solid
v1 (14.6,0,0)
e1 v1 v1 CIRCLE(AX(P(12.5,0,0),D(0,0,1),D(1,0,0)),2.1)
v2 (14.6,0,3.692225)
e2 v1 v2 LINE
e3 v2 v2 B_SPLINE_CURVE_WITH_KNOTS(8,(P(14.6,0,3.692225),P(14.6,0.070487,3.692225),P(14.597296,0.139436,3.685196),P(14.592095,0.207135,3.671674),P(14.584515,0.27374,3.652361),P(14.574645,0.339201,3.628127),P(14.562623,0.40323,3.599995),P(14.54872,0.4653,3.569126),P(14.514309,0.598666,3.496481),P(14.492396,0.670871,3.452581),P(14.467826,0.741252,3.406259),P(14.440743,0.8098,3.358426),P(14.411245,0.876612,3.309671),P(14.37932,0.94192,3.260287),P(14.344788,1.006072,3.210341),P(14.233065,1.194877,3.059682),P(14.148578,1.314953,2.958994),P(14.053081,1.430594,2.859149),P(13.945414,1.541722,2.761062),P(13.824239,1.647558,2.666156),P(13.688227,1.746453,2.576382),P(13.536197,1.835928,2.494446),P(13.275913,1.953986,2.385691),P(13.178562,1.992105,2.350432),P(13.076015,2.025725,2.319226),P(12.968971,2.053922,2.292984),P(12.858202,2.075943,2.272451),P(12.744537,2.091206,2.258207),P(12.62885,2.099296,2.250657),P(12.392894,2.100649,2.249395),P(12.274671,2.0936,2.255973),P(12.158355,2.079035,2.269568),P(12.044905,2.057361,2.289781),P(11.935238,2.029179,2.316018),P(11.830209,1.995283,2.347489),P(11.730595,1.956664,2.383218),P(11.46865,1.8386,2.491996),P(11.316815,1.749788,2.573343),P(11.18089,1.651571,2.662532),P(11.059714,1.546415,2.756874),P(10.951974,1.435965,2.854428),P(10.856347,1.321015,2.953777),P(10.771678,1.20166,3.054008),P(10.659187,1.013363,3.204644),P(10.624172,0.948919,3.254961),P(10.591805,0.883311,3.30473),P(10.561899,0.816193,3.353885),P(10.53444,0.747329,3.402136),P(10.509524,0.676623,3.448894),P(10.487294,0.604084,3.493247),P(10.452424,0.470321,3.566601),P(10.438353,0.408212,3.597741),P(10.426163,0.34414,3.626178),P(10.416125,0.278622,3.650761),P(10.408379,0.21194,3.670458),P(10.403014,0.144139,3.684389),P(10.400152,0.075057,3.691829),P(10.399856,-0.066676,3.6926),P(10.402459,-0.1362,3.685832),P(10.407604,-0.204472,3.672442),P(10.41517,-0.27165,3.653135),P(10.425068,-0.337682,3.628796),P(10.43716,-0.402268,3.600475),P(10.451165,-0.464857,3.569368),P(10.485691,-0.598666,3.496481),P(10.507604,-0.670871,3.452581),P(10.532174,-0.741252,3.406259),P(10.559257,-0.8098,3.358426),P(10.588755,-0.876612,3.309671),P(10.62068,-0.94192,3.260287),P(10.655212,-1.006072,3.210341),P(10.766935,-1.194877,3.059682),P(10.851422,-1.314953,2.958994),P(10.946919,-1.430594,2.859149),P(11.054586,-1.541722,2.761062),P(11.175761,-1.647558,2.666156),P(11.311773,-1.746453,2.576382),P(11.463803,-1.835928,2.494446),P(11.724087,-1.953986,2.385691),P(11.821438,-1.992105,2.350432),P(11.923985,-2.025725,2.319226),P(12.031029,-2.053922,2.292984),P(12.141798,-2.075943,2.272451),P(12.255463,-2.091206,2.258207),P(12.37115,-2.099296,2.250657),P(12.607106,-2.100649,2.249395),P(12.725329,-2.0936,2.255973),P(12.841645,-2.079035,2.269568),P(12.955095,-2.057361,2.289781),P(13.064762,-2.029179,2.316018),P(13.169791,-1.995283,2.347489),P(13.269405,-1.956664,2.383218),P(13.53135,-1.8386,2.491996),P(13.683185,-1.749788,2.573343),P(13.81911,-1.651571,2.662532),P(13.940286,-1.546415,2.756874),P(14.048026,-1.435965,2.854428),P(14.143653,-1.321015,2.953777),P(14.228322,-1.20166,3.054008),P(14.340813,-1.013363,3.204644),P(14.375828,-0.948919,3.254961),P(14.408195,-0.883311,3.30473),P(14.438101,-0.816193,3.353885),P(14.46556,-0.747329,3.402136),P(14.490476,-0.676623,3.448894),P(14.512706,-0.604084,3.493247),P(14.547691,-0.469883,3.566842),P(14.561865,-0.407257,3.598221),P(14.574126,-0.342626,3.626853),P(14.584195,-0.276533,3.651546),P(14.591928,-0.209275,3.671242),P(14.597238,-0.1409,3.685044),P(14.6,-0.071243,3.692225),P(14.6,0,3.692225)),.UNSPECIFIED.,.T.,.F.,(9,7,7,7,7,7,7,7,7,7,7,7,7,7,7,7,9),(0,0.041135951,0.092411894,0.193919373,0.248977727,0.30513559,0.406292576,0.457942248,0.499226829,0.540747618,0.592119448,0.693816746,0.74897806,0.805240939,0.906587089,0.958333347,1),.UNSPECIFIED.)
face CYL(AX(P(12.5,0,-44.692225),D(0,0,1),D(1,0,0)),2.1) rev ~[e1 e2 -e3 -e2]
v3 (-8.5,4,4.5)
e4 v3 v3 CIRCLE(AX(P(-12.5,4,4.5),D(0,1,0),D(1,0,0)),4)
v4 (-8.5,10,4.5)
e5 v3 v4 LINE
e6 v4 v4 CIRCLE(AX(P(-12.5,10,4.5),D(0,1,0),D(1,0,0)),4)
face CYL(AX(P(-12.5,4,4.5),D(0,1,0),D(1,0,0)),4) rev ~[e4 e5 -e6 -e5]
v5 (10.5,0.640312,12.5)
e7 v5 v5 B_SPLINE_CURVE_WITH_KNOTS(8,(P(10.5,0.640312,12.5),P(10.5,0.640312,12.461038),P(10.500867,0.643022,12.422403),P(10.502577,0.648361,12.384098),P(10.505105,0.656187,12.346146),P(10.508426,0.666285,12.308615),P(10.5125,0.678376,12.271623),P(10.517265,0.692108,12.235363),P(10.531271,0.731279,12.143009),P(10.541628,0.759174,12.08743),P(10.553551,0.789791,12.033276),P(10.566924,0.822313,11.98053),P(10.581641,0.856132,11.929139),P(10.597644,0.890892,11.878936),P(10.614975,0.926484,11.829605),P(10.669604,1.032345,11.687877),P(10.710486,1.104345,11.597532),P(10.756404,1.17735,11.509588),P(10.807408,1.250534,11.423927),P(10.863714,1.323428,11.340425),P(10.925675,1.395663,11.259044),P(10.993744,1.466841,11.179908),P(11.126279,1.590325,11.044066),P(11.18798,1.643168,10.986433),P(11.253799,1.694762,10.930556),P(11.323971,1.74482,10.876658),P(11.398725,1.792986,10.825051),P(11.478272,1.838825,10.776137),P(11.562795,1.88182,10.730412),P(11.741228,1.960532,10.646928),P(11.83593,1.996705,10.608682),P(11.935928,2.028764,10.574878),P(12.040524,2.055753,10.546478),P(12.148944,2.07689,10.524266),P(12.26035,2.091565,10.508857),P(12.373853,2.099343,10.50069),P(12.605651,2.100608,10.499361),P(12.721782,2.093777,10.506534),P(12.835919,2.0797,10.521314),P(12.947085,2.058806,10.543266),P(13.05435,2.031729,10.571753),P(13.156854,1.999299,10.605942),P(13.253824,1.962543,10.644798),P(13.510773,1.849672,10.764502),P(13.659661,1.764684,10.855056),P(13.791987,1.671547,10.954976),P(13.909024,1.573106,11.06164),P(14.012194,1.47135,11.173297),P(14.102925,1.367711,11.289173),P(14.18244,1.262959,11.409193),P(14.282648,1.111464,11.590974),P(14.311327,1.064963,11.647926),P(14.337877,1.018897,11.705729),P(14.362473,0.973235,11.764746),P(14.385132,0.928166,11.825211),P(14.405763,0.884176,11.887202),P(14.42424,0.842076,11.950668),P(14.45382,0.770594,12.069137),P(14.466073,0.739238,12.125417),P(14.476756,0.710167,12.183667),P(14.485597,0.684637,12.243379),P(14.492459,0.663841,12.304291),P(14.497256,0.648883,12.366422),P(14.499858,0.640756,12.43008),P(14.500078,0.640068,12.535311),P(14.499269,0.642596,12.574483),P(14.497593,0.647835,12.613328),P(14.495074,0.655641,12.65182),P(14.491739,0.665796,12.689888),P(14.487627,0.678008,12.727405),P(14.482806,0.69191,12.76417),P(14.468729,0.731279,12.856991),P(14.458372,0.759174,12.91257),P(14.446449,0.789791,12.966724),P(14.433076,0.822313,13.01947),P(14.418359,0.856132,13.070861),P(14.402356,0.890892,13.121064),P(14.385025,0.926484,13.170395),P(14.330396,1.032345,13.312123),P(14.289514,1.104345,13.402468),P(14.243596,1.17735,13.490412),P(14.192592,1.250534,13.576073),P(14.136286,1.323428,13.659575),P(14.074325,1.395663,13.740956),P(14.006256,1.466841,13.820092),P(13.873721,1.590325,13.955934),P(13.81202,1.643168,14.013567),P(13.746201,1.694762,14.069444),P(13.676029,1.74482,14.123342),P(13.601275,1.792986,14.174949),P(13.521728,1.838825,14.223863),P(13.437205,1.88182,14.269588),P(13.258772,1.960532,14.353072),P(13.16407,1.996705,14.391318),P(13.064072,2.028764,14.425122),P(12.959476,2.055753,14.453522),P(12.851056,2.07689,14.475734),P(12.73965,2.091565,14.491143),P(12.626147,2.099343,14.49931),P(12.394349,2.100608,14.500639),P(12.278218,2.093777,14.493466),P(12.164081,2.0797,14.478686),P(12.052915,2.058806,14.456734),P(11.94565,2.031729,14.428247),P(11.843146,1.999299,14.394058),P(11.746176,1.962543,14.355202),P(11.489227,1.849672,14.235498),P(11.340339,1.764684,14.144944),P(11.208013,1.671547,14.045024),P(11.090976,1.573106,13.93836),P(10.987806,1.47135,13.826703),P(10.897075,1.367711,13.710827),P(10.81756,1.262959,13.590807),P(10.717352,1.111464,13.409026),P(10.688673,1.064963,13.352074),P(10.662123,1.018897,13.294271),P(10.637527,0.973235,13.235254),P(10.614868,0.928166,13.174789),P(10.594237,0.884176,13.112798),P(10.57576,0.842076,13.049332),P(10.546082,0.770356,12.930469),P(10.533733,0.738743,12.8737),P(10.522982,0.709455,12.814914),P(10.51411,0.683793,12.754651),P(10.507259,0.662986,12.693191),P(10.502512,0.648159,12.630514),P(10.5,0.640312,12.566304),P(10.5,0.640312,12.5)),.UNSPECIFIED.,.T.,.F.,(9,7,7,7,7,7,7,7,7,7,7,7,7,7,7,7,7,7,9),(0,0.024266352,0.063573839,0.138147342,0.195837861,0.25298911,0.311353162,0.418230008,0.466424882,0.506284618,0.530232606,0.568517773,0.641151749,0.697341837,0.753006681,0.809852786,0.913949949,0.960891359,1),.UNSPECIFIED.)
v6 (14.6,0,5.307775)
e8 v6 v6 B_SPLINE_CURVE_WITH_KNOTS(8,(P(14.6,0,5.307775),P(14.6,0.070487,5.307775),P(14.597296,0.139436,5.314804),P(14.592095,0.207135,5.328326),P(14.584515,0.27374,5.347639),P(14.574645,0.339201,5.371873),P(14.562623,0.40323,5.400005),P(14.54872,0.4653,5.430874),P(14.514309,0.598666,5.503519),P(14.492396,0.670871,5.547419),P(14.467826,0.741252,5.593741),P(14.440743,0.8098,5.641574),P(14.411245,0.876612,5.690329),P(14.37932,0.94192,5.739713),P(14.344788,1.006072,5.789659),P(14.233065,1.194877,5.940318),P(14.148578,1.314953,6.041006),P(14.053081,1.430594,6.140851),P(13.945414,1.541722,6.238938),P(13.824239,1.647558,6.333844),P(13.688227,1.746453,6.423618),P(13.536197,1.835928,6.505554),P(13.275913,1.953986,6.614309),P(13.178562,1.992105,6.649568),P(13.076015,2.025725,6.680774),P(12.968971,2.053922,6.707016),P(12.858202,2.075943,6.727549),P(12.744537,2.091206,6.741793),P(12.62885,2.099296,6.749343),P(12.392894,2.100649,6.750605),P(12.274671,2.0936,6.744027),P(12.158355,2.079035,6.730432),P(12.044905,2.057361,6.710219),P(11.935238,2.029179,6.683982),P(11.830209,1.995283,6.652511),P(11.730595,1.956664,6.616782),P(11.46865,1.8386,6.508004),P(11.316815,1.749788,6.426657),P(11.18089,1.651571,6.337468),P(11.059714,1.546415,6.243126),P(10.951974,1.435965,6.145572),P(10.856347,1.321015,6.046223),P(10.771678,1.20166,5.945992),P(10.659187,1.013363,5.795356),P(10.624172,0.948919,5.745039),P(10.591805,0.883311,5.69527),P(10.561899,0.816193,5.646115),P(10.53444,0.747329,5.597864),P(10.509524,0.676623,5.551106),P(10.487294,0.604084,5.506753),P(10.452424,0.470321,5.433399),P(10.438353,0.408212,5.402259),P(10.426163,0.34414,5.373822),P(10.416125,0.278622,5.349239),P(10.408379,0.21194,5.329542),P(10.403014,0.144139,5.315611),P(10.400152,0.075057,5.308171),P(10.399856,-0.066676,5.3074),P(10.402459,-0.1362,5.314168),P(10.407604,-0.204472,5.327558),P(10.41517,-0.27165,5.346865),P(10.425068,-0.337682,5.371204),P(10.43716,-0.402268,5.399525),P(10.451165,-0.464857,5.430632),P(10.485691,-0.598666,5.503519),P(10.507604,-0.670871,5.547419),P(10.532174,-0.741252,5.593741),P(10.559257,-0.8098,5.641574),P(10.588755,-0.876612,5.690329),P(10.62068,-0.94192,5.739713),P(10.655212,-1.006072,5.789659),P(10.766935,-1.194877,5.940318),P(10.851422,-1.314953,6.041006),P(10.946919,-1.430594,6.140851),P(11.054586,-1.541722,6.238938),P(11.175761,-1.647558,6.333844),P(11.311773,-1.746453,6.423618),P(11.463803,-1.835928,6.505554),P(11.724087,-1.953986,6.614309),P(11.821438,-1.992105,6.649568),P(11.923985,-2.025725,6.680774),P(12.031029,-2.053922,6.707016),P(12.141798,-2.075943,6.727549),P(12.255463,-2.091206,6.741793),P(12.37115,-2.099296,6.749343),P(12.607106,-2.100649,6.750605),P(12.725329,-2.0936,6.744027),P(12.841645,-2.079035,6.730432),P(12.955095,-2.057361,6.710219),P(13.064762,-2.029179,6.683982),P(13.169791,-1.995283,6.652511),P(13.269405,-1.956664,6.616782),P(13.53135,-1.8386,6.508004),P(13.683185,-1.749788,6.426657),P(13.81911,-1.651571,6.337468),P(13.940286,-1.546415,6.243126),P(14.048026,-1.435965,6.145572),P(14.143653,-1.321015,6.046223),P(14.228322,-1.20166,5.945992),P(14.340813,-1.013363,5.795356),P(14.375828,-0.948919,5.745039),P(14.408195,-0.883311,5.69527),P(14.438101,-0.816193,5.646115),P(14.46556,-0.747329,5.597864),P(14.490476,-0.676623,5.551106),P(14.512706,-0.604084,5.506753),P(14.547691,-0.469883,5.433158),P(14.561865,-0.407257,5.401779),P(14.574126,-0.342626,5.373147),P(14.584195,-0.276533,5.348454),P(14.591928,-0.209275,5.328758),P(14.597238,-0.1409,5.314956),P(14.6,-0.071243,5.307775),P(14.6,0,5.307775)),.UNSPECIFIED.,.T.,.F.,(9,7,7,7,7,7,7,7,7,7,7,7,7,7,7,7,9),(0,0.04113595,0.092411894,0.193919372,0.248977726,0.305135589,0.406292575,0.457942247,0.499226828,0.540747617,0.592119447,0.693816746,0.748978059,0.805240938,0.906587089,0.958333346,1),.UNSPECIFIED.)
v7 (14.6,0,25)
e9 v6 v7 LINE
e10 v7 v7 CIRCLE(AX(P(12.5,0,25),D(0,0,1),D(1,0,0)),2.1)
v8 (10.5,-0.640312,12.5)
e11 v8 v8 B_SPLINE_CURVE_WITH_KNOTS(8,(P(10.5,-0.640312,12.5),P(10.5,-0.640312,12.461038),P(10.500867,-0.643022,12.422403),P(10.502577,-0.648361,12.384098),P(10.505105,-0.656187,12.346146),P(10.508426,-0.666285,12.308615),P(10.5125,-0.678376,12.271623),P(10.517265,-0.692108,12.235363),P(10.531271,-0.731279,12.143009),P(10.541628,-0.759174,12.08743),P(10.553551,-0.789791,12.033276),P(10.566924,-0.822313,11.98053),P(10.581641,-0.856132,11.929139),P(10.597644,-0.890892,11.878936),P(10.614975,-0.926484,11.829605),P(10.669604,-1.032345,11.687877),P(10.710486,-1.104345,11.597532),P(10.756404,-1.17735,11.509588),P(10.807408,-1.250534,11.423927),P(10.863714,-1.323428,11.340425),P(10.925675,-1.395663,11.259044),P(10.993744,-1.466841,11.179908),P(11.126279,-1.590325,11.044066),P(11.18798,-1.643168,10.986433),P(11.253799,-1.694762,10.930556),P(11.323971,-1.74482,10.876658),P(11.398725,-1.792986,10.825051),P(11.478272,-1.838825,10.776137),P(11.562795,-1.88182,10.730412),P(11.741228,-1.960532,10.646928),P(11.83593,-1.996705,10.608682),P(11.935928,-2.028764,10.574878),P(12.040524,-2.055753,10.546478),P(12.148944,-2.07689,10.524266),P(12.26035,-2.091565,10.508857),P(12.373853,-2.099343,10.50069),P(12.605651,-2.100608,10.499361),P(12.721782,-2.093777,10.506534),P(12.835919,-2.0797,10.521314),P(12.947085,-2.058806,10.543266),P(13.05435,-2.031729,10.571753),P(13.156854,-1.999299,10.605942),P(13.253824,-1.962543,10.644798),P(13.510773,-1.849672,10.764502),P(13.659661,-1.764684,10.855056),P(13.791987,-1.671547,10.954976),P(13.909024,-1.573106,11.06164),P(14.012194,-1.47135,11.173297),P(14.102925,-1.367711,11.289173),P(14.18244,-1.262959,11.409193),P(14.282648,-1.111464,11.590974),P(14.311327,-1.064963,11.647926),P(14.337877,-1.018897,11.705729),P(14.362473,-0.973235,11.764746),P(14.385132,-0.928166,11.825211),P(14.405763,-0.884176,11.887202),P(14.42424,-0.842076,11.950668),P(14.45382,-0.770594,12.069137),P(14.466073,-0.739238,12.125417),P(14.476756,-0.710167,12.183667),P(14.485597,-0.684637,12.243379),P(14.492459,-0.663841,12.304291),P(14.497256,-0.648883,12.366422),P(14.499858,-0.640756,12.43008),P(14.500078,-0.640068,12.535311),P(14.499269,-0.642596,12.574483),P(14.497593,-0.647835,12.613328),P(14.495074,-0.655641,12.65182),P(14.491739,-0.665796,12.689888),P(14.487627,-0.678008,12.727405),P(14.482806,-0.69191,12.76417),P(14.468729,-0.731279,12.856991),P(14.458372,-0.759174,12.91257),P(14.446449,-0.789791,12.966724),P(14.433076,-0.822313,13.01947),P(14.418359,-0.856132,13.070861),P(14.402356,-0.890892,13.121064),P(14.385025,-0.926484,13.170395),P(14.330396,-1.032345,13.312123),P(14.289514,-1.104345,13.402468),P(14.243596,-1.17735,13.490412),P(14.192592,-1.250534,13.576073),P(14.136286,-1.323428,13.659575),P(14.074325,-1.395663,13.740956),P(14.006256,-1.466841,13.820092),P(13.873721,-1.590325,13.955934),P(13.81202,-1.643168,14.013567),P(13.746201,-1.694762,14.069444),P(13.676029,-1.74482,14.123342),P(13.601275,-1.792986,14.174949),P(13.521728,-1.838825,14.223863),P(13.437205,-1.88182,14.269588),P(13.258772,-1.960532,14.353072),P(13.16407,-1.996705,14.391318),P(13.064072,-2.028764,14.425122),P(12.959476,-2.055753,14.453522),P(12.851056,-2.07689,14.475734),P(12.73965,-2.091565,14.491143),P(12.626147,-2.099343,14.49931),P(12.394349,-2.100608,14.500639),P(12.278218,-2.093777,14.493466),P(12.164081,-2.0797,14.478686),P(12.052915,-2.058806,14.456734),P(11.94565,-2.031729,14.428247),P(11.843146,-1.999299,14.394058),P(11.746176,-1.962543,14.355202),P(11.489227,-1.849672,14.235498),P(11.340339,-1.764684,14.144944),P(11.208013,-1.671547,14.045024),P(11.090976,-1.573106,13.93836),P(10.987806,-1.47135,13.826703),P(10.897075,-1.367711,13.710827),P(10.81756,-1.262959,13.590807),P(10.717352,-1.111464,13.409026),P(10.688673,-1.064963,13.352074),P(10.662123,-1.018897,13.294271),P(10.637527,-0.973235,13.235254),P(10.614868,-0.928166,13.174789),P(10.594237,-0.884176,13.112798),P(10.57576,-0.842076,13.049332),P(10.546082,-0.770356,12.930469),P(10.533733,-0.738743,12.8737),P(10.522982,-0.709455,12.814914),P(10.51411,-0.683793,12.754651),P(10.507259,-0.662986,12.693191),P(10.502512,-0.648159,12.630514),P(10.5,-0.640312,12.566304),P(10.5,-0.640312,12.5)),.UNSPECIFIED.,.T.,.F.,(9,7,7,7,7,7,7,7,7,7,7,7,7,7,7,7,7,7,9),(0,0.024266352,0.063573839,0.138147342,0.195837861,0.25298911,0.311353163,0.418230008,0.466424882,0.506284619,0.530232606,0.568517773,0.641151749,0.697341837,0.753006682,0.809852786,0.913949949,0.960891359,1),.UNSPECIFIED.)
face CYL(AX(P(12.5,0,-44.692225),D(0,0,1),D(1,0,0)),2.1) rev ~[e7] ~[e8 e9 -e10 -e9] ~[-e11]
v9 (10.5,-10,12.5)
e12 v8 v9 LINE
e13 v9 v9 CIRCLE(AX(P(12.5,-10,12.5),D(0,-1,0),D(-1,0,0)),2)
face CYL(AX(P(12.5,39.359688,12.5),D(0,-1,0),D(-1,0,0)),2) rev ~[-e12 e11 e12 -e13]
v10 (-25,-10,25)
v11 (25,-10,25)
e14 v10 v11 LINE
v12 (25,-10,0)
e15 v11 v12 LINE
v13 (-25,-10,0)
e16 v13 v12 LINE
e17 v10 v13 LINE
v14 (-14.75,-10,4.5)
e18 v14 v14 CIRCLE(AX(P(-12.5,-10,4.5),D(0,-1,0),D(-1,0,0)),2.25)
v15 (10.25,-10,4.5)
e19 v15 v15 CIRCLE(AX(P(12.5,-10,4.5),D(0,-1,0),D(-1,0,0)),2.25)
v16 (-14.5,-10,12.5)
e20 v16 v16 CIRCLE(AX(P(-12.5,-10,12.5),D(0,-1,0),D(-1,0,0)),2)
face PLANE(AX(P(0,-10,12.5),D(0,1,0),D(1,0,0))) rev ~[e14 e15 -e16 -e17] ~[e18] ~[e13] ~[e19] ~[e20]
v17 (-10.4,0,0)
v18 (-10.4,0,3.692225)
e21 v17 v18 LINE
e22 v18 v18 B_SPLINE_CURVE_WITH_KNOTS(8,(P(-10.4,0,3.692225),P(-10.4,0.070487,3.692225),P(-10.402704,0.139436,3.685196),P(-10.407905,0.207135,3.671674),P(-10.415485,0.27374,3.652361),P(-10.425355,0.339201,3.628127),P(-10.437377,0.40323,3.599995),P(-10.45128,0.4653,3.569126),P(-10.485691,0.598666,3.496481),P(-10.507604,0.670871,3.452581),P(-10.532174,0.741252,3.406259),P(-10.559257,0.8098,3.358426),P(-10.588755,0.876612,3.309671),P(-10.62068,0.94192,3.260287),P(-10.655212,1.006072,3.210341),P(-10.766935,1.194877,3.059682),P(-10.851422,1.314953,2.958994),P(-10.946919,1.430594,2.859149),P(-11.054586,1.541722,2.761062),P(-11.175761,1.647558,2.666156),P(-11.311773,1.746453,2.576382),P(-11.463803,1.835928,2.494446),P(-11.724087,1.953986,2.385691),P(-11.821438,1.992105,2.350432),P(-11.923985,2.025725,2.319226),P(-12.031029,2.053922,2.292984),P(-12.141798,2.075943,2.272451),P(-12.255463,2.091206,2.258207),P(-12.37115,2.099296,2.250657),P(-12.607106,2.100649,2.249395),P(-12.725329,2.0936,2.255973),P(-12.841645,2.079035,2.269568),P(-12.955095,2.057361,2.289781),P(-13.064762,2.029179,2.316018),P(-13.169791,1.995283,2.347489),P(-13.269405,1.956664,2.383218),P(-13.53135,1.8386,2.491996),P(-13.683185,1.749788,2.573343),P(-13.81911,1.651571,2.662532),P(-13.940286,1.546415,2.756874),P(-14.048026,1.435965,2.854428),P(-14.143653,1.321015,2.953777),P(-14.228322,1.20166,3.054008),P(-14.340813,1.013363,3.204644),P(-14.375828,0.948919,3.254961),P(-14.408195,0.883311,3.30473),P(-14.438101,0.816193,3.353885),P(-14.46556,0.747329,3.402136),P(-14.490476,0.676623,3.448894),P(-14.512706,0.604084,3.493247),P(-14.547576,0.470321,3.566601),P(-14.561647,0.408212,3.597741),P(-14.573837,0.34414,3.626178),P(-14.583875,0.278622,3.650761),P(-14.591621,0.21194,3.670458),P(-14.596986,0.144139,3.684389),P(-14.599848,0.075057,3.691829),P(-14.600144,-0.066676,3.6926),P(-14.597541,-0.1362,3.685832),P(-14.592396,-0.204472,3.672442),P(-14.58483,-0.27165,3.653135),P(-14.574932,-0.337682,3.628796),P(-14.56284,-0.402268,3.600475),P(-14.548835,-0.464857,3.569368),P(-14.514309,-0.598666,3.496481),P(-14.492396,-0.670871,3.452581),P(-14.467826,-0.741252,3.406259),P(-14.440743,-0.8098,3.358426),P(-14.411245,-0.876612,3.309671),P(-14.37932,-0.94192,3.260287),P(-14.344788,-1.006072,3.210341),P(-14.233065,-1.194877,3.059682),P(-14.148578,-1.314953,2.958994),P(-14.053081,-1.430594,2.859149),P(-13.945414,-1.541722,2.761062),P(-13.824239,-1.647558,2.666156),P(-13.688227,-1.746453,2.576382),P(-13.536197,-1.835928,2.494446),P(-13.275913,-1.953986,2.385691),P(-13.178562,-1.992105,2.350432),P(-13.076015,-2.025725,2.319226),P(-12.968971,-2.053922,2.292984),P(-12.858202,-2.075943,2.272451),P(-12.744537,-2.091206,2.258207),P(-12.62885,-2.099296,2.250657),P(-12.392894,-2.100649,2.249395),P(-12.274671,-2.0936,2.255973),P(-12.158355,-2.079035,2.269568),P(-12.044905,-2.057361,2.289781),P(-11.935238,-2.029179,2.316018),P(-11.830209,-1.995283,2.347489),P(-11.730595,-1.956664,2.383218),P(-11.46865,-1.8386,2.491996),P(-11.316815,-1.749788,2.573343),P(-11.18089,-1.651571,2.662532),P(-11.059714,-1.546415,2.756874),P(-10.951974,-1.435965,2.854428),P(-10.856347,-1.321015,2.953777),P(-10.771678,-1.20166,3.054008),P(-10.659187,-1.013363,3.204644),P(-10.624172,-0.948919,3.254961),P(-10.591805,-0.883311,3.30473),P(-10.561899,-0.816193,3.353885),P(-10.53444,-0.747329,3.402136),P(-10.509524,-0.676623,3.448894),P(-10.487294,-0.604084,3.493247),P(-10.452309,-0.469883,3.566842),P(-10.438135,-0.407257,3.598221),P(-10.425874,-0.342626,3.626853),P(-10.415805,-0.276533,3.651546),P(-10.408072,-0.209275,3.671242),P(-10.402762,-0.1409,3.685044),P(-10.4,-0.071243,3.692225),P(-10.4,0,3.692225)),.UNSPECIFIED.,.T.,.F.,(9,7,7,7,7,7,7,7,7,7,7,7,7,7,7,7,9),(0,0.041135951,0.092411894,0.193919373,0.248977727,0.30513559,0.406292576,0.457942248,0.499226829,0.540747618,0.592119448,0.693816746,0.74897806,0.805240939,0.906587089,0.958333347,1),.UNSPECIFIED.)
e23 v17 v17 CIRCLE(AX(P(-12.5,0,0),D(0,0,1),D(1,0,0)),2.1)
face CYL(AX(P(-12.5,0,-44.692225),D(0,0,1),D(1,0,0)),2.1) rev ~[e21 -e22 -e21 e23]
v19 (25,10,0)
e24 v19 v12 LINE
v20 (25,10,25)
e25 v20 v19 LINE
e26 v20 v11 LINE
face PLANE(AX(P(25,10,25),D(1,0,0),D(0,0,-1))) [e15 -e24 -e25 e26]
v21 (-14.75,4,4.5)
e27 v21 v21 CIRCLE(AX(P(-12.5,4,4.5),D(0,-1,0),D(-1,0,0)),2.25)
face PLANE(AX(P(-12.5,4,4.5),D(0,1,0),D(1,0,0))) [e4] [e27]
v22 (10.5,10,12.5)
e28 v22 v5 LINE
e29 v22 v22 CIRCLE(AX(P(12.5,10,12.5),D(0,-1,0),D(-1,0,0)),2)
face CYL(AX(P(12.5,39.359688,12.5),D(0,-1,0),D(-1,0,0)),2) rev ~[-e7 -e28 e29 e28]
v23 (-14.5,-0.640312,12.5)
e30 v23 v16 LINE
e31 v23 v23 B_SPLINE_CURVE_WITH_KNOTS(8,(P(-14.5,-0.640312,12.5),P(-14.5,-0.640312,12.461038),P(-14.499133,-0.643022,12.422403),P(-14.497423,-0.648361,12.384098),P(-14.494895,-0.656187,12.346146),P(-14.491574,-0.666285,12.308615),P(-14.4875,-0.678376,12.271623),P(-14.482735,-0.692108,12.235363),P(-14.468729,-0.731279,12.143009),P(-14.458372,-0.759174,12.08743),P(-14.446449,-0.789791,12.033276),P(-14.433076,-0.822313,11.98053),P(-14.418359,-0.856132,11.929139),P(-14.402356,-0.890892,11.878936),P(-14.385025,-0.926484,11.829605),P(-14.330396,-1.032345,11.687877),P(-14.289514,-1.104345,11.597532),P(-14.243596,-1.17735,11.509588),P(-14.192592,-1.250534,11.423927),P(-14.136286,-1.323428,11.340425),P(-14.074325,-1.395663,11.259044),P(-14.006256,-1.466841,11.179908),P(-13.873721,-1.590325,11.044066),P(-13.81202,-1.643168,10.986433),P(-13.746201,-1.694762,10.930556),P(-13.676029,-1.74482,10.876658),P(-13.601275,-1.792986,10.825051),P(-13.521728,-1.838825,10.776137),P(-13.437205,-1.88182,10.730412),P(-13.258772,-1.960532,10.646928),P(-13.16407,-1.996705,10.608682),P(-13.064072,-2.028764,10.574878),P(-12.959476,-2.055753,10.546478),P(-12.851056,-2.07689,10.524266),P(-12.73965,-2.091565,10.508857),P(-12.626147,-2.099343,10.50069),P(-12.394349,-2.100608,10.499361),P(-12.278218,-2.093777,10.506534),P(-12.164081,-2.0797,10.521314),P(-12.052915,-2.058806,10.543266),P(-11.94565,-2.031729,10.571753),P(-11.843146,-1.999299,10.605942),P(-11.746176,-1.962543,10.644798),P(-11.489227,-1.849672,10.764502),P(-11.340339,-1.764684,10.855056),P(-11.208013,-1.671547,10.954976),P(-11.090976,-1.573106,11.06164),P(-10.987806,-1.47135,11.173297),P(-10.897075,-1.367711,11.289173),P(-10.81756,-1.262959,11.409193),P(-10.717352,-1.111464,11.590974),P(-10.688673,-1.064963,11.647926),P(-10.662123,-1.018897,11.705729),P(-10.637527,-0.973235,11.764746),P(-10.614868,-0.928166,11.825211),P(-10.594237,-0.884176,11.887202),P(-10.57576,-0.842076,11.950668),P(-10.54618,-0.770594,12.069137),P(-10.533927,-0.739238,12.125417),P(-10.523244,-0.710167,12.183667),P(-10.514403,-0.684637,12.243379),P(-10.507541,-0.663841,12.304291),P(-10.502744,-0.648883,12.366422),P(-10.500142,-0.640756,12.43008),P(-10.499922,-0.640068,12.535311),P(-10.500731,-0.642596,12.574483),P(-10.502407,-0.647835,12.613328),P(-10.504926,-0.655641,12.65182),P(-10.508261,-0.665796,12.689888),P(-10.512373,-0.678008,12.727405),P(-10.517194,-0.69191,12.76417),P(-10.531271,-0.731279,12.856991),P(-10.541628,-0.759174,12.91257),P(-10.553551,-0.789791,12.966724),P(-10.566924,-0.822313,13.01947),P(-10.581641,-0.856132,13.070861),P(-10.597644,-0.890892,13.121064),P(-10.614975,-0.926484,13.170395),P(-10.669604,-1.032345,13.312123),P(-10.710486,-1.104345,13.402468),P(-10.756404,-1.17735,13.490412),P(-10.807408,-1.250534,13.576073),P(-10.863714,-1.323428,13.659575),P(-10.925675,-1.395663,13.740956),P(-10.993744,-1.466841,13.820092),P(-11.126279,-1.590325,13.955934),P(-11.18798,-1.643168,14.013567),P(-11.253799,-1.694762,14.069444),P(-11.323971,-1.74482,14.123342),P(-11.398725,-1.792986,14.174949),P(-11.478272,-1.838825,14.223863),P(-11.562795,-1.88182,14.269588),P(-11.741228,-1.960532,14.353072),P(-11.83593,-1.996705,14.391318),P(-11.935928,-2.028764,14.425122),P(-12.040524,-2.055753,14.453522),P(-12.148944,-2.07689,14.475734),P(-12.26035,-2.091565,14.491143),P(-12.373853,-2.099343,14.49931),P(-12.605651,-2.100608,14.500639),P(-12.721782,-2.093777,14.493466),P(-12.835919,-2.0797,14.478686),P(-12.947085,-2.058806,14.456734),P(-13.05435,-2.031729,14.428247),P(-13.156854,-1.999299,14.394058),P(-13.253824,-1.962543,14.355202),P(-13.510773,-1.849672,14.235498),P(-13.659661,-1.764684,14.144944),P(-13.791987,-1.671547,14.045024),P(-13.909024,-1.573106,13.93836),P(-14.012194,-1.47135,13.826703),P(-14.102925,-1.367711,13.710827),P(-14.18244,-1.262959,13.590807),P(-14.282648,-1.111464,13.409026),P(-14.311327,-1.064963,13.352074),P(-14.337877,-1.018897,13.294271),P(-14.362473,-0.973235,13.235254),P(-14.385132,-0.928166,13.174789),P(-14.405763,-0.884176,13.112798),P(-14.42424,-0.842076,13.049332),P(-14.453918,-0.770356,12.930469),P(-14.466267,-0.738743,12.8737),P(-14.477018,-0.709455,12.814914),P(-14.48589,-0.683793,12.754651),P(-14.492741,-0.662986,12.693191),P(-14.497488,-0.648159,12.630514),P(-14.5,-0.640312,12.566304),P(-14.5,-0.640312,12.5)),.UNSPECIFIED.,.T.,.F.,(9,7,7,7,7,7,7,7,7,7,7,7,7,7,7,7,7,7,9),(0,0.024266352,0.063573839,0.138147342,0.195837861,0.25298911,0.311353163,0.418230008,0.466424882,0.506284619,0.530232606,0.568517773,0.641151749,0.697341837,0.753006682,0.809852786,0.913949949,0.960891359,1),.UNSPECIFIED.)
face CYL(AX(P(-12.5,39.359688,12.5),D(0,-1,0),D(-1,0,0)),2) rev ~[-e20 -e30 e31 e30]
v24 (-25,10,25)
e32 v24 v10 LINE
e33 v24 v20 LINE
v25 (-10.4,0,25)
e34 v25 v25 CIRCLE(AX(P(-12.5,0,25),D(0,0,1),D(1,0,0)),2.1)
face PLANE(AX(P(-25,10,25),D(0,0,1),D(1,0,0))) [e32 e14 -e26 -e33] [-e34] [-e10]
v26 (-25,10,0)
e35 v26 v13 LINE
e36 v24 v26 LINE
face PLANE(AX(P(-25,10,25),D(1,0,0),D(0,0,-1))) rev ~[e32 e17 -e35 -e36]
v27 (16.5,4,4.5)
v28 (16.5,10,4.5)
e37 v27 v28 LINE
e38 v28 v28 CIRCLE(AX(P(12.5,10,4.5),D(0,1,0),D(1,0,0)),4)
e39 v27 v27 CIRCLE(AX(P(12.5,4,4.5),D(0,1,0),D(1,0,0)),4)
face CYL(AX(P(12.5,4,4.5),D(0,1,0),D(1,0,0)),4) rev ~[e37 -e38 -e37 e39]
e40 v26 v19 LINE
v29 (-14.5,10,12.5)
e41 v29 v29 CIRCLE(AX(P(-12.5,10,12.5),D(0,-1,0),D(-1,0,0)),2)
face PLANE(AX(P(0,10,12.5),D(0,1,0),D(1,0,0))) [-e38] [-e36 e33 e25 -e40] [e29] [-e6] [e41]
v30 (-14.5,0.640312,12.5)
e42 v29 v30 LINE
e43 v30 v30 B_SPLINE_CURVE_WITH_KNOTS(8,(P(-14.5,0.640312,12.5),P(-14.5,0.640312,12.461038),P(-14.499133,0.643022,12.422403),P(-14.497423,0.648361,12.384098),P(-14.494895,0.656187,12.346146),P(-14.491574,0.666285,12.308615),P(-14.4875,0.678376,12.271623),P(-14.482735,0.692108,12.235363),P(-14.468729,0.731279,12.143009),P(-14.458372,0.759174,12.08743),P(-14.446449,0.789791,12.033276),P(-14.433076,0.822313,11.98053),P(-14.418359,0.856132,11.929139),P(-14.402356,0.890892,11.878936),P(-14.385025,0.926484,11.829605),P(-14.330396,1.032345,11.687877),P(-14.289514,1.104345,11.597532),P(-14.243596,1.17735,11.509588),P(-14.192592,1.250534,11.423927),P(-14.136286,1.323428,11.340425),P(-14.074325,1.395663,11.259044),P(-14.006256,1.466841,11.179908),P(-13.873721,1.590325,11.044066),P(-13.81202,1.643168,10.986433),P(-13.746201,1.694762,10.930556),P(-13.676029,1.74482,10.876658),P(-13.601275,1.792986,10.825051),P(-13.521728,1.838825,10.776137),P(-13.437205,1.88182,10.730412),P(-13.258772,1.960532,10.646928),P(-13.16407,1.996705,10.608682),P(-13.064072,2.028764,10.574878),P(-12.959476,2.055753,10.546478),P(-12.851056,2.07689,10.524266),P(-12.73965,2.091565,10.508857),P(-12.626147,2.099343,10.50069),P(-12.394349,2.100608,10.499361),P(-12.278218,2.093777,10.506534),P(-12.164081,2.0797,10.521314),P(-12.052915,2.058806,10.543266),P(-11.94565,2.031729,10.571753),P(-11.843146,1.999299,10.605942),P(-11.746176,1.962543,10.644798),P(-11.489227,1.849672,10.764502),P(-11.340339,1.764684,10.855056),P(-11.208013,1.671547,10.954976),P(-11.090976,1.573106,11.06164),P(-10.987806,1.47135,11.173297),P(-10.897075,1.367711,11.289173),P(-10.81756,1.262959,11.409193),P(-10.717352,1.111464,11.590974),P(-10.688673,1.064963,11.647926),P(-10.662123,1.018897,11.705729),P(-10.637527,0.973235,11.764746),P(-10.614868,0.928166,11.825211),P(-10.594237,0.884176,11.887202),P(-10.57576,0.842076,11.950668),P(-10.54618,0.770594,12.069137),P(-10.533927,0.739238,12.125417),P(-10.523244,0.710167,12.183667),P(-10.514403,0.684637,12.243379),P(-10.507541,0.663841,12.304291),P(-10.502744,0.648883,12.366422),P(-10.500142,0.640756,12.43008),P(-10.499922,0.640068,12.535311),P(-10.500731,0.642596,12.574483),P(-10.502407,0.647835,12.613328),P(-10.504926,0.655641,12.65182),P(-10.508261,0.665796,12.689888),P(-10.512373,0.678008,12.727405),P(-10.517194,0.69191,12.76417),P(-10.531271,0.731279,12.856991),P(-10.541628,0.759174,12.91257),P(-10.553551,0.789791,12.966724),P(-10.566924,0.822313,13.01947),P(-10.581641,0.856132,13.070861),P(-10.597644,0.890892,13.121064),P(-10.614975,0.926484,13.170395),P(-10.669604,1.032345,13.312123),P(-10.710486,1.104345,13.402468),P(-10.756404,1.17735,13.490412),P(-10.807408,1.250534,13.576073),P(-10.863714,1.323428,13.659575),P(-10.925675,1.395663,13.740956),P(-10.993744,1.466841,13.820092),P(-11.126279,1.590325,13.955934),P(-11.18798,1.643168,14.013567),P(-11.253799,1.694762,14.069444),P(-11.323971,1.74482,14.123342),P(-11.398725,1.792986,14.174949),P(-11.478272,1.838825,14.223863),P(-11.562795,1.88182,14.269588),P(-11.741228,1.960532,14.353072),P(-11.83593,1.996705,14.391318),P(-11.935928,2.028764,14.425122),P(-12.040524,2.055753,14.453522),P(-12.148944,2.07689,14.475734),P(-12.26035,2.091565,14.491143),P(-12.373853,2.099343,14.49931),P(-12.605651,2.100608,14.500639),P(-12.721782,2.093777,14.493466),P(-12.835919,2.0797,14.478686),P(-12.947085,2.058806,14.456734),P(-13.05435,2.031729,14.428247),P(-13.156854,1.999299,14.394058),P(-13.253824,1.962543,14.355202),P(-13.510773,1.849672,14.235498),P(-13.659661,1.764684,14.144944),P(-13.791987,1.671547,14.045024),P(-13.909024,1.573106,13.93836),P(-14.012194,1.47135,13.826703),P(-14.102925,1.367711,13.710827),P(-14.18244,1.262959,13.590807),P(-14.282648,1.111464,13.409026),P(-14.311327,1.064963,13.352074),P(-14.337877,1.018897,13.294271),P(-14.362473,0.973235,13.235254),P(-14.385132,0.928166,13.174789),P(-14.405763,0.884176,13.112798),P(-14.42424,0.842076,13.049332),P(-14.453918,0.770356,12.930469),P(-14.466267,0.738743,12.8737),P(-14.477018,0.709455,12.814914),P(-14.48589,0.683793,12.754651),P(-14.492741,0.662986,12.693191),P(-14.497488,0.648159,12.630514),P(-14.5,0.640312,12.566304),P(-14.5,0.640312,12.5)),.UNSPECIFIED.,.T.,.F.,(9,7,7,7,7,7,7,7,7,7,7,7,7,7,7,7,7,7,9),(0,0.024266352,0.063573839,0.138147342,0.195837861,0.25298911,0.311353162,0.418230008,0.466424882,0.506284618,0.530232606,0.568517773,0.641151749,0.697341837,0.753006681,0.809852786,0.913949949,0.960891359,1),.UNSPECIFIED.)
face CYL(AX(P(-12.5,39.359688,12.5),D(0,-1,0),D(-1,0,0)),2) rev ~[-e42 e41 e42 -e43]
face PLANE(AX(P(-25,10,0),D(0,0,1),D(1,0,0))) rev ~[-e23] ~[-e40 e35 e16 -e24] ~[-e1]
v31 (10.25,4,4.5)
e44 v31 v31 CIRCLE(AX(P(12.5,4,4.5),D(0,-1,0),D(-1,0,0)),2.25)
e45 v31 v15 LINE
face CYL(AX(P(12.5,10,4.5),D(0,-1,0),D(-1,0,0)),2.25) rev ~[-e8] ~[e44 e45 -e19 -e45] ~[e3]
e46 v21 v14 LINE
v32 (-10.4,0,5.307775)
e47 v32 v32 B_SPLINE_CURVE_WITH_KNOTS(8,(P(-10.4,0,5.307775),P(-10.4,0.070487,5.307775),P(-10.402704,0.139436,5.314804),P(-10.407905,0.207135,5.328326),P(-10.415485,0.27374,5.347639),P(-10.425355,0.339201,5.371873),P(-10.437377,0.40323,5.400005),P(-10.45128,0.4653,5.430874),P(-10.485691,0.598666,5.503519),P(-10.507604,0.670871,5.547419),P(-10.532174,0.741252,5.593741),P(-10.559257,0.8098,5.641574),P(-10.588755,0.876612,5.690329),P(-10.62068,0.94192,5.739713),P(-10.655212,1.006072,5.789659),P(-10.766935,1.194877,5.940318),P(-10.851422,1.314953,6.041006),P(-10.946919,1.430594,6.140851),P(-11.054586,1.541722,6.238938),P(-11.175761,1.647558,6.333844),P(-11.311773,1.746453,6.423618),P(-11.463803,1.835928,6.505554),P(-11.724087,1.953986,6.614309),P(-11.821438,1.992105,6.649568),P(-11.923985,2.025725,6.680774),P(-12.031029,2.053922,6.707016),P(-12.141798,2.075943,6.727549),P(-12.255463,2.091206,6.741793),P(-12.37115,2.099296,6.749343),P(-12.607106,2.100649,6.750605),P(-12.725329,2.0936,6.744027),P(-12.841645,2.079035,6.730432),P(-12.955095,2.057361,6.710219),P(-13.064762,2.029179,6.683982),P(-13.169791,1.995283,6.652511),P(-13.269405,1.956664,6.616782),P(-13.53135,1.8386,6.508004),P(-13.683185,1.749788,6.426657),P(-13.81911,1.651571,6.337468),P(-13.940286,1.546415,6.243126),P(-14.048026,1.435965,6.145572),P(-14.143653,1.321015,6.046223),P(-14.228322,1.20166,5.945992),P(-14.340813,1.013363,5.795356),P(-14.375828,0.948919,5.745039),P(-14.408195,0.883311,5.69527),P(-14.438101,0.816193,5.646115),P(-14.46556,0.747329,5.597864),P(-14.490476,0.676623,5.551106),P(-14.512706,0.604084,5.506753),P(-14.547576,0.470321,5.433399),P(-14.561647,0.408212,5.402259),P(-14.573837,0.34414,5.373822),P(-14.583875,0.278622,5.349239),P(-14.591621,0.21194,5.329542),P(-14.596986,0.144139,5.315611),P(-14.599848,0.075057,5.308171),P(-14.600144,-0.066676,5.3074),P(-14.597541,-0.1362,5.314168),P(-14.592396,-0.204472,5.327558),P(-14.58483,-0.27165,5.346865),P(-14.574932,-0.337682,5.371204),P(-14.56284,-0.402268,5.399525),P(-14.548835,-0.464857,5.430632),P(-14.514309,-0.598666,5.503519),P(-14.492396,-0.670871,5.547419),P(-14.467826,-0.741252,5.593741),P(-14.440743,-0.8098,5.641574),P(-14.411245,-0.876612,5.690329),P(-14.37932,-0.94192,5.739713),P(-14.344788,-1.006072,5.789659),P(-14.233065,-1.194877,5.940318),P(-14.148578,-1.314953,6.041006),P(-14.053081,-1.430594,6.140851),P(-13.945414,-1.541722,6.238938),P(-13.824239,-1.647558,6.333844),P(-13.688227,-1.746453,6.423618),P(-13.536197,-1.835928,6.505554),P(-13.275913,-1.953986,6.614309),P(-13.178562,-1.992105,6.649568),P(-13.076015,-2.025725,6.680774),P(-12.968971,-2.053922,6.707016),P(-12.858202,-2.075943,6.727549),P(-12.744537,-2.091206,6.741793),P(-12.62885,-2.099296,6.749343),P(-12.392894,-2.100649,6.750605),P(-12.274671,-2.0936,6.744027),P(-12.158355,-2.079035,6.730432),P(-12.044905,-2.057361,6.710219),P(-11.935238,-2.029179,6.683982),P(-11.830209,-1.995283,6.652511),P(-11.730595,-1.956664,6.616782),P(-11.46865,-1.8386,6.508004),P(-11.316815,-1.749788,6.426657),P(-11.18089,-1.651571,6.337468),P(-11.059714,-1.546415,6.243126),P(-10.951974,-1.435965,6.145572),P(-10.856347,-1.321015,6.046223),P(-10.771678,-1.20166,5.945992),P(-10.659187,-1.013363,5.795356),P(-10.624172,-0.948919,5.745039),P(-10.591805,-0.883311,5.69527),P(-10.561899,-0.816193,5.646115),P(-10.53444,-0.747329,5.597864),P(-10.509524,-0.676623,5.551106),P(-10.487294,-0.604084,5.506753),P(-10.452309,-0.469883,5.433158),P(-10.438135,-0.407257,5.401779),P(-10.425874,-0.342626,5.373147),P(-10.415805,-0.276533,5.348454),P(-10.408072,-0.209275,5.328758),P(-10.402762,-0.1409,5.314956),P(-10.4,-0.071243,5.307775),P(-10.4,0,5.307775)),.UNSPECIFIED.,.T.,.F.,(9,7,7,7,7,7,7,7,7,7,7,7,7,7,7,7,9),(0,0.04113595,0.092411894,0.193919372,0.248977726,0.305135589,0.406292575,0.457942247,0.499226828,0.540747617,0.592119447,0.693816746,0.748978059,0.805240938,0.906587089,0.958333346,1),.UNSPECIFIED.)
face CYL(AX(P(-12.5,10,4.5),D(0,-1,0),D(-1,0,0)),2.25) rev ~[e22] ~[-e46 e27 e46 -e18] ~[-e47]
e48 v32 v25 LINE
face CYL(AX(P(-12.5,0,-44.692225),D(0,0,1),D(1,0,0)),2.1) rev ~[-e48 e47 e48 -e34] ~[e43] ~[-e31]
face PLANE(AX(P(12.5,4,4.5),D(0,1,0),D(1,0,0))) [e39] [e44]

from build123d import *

# Parameters (mm, degrees)
SKETCH1_W                                        = 50
SKETCH1_H                                        = 25
BOSS_EXTRUDE1_DEPTH                              = 20
CBORE_FOR_M4_HEX_HEAD_MACHINE_SCREW1_D           = 4.5
CBORE_FOR_M4_HEX_HEAD_MACHINE_SCREW1_CBORE_D     = 8
CBORE_FOR_M4_HEX_HEAD_MACHINE_SCREW1_CBORE_DEPTH = 6
F_4_0_4_DIAMETER_HOLE1_D                         = 4
F_4_0_4_DIAMETER_HOLE1_DEPTH                     = 29.359687576
F_4_2_4_2_DIAMETER_HOLE1_D                       = 4.2
F_4_2_4_2_DIAMETER_HOLE1_DEPTH                   = 44.692225279


with BuildPart() as part:
    # Sketch1 → Boss-Extrude1 (new body)
    with BuildSketch(Plane(origin=(0, 10, 0), x_dir=(1, 0, 0), z_dir=(0, 1, 0))):
        with Locations((0, -12.5)):
            Rectangle(SKETCH1_W, SKETCH1_H)
    extrude(amount=-BOSS_EXTRUDE1_DEPTH)

    # CBORE for M4 Hex Head Machine Screw1 (through all)
    with Locations(Plane(origin=(0, 10, 0), x_dir=(1, 0, 0), z_dir=(0, 1, 0))):
        with Locations((-12.5, -4.5), (12.5, -4.5)):
            CounterBoreHole(CBORE_FOR_M4_HEX_HEAD_MACHINE_SCREW1_D / 2, CBORE_FOR_M4_HEX_HEAD_MACHINE_SCREW1_CBORE_D / 2, CBORE_FOR_M4_HEX_HEAD_MACHINE_SCREW1_CBORE_DEPTH)

    # Ø4.0 (4) Diameter Hole1
    with Locations(Plane(origin=(0, 10, 0), x_dir=(1, 0, 0), z_dir=(0, 1, 0))):
        with Locations((-12.5, -12.5), (12.5, -12.5)):
            Hole(F_4_0_4_DIAMETER_HOLE1_D / 2, depth=F_4_0_4_DIAMETER_HOLE1_DEPTH)

    # Ø4.2 (4.2) Diameter Hole1
    with Locations(Plane(origin=(0, 0, 0), x_dir=(-1, 0, 0), z_dir=(0, 0, -1))):
        with Locations((12.5, 0), (-12.5, 0)):
            Hole(F_4_2_4_2_DIAMETER_HOLE1_D / 2, depth=F_4_2_4_2_DIAMETER_HOLE1_DEPTH)


solid = part.part
